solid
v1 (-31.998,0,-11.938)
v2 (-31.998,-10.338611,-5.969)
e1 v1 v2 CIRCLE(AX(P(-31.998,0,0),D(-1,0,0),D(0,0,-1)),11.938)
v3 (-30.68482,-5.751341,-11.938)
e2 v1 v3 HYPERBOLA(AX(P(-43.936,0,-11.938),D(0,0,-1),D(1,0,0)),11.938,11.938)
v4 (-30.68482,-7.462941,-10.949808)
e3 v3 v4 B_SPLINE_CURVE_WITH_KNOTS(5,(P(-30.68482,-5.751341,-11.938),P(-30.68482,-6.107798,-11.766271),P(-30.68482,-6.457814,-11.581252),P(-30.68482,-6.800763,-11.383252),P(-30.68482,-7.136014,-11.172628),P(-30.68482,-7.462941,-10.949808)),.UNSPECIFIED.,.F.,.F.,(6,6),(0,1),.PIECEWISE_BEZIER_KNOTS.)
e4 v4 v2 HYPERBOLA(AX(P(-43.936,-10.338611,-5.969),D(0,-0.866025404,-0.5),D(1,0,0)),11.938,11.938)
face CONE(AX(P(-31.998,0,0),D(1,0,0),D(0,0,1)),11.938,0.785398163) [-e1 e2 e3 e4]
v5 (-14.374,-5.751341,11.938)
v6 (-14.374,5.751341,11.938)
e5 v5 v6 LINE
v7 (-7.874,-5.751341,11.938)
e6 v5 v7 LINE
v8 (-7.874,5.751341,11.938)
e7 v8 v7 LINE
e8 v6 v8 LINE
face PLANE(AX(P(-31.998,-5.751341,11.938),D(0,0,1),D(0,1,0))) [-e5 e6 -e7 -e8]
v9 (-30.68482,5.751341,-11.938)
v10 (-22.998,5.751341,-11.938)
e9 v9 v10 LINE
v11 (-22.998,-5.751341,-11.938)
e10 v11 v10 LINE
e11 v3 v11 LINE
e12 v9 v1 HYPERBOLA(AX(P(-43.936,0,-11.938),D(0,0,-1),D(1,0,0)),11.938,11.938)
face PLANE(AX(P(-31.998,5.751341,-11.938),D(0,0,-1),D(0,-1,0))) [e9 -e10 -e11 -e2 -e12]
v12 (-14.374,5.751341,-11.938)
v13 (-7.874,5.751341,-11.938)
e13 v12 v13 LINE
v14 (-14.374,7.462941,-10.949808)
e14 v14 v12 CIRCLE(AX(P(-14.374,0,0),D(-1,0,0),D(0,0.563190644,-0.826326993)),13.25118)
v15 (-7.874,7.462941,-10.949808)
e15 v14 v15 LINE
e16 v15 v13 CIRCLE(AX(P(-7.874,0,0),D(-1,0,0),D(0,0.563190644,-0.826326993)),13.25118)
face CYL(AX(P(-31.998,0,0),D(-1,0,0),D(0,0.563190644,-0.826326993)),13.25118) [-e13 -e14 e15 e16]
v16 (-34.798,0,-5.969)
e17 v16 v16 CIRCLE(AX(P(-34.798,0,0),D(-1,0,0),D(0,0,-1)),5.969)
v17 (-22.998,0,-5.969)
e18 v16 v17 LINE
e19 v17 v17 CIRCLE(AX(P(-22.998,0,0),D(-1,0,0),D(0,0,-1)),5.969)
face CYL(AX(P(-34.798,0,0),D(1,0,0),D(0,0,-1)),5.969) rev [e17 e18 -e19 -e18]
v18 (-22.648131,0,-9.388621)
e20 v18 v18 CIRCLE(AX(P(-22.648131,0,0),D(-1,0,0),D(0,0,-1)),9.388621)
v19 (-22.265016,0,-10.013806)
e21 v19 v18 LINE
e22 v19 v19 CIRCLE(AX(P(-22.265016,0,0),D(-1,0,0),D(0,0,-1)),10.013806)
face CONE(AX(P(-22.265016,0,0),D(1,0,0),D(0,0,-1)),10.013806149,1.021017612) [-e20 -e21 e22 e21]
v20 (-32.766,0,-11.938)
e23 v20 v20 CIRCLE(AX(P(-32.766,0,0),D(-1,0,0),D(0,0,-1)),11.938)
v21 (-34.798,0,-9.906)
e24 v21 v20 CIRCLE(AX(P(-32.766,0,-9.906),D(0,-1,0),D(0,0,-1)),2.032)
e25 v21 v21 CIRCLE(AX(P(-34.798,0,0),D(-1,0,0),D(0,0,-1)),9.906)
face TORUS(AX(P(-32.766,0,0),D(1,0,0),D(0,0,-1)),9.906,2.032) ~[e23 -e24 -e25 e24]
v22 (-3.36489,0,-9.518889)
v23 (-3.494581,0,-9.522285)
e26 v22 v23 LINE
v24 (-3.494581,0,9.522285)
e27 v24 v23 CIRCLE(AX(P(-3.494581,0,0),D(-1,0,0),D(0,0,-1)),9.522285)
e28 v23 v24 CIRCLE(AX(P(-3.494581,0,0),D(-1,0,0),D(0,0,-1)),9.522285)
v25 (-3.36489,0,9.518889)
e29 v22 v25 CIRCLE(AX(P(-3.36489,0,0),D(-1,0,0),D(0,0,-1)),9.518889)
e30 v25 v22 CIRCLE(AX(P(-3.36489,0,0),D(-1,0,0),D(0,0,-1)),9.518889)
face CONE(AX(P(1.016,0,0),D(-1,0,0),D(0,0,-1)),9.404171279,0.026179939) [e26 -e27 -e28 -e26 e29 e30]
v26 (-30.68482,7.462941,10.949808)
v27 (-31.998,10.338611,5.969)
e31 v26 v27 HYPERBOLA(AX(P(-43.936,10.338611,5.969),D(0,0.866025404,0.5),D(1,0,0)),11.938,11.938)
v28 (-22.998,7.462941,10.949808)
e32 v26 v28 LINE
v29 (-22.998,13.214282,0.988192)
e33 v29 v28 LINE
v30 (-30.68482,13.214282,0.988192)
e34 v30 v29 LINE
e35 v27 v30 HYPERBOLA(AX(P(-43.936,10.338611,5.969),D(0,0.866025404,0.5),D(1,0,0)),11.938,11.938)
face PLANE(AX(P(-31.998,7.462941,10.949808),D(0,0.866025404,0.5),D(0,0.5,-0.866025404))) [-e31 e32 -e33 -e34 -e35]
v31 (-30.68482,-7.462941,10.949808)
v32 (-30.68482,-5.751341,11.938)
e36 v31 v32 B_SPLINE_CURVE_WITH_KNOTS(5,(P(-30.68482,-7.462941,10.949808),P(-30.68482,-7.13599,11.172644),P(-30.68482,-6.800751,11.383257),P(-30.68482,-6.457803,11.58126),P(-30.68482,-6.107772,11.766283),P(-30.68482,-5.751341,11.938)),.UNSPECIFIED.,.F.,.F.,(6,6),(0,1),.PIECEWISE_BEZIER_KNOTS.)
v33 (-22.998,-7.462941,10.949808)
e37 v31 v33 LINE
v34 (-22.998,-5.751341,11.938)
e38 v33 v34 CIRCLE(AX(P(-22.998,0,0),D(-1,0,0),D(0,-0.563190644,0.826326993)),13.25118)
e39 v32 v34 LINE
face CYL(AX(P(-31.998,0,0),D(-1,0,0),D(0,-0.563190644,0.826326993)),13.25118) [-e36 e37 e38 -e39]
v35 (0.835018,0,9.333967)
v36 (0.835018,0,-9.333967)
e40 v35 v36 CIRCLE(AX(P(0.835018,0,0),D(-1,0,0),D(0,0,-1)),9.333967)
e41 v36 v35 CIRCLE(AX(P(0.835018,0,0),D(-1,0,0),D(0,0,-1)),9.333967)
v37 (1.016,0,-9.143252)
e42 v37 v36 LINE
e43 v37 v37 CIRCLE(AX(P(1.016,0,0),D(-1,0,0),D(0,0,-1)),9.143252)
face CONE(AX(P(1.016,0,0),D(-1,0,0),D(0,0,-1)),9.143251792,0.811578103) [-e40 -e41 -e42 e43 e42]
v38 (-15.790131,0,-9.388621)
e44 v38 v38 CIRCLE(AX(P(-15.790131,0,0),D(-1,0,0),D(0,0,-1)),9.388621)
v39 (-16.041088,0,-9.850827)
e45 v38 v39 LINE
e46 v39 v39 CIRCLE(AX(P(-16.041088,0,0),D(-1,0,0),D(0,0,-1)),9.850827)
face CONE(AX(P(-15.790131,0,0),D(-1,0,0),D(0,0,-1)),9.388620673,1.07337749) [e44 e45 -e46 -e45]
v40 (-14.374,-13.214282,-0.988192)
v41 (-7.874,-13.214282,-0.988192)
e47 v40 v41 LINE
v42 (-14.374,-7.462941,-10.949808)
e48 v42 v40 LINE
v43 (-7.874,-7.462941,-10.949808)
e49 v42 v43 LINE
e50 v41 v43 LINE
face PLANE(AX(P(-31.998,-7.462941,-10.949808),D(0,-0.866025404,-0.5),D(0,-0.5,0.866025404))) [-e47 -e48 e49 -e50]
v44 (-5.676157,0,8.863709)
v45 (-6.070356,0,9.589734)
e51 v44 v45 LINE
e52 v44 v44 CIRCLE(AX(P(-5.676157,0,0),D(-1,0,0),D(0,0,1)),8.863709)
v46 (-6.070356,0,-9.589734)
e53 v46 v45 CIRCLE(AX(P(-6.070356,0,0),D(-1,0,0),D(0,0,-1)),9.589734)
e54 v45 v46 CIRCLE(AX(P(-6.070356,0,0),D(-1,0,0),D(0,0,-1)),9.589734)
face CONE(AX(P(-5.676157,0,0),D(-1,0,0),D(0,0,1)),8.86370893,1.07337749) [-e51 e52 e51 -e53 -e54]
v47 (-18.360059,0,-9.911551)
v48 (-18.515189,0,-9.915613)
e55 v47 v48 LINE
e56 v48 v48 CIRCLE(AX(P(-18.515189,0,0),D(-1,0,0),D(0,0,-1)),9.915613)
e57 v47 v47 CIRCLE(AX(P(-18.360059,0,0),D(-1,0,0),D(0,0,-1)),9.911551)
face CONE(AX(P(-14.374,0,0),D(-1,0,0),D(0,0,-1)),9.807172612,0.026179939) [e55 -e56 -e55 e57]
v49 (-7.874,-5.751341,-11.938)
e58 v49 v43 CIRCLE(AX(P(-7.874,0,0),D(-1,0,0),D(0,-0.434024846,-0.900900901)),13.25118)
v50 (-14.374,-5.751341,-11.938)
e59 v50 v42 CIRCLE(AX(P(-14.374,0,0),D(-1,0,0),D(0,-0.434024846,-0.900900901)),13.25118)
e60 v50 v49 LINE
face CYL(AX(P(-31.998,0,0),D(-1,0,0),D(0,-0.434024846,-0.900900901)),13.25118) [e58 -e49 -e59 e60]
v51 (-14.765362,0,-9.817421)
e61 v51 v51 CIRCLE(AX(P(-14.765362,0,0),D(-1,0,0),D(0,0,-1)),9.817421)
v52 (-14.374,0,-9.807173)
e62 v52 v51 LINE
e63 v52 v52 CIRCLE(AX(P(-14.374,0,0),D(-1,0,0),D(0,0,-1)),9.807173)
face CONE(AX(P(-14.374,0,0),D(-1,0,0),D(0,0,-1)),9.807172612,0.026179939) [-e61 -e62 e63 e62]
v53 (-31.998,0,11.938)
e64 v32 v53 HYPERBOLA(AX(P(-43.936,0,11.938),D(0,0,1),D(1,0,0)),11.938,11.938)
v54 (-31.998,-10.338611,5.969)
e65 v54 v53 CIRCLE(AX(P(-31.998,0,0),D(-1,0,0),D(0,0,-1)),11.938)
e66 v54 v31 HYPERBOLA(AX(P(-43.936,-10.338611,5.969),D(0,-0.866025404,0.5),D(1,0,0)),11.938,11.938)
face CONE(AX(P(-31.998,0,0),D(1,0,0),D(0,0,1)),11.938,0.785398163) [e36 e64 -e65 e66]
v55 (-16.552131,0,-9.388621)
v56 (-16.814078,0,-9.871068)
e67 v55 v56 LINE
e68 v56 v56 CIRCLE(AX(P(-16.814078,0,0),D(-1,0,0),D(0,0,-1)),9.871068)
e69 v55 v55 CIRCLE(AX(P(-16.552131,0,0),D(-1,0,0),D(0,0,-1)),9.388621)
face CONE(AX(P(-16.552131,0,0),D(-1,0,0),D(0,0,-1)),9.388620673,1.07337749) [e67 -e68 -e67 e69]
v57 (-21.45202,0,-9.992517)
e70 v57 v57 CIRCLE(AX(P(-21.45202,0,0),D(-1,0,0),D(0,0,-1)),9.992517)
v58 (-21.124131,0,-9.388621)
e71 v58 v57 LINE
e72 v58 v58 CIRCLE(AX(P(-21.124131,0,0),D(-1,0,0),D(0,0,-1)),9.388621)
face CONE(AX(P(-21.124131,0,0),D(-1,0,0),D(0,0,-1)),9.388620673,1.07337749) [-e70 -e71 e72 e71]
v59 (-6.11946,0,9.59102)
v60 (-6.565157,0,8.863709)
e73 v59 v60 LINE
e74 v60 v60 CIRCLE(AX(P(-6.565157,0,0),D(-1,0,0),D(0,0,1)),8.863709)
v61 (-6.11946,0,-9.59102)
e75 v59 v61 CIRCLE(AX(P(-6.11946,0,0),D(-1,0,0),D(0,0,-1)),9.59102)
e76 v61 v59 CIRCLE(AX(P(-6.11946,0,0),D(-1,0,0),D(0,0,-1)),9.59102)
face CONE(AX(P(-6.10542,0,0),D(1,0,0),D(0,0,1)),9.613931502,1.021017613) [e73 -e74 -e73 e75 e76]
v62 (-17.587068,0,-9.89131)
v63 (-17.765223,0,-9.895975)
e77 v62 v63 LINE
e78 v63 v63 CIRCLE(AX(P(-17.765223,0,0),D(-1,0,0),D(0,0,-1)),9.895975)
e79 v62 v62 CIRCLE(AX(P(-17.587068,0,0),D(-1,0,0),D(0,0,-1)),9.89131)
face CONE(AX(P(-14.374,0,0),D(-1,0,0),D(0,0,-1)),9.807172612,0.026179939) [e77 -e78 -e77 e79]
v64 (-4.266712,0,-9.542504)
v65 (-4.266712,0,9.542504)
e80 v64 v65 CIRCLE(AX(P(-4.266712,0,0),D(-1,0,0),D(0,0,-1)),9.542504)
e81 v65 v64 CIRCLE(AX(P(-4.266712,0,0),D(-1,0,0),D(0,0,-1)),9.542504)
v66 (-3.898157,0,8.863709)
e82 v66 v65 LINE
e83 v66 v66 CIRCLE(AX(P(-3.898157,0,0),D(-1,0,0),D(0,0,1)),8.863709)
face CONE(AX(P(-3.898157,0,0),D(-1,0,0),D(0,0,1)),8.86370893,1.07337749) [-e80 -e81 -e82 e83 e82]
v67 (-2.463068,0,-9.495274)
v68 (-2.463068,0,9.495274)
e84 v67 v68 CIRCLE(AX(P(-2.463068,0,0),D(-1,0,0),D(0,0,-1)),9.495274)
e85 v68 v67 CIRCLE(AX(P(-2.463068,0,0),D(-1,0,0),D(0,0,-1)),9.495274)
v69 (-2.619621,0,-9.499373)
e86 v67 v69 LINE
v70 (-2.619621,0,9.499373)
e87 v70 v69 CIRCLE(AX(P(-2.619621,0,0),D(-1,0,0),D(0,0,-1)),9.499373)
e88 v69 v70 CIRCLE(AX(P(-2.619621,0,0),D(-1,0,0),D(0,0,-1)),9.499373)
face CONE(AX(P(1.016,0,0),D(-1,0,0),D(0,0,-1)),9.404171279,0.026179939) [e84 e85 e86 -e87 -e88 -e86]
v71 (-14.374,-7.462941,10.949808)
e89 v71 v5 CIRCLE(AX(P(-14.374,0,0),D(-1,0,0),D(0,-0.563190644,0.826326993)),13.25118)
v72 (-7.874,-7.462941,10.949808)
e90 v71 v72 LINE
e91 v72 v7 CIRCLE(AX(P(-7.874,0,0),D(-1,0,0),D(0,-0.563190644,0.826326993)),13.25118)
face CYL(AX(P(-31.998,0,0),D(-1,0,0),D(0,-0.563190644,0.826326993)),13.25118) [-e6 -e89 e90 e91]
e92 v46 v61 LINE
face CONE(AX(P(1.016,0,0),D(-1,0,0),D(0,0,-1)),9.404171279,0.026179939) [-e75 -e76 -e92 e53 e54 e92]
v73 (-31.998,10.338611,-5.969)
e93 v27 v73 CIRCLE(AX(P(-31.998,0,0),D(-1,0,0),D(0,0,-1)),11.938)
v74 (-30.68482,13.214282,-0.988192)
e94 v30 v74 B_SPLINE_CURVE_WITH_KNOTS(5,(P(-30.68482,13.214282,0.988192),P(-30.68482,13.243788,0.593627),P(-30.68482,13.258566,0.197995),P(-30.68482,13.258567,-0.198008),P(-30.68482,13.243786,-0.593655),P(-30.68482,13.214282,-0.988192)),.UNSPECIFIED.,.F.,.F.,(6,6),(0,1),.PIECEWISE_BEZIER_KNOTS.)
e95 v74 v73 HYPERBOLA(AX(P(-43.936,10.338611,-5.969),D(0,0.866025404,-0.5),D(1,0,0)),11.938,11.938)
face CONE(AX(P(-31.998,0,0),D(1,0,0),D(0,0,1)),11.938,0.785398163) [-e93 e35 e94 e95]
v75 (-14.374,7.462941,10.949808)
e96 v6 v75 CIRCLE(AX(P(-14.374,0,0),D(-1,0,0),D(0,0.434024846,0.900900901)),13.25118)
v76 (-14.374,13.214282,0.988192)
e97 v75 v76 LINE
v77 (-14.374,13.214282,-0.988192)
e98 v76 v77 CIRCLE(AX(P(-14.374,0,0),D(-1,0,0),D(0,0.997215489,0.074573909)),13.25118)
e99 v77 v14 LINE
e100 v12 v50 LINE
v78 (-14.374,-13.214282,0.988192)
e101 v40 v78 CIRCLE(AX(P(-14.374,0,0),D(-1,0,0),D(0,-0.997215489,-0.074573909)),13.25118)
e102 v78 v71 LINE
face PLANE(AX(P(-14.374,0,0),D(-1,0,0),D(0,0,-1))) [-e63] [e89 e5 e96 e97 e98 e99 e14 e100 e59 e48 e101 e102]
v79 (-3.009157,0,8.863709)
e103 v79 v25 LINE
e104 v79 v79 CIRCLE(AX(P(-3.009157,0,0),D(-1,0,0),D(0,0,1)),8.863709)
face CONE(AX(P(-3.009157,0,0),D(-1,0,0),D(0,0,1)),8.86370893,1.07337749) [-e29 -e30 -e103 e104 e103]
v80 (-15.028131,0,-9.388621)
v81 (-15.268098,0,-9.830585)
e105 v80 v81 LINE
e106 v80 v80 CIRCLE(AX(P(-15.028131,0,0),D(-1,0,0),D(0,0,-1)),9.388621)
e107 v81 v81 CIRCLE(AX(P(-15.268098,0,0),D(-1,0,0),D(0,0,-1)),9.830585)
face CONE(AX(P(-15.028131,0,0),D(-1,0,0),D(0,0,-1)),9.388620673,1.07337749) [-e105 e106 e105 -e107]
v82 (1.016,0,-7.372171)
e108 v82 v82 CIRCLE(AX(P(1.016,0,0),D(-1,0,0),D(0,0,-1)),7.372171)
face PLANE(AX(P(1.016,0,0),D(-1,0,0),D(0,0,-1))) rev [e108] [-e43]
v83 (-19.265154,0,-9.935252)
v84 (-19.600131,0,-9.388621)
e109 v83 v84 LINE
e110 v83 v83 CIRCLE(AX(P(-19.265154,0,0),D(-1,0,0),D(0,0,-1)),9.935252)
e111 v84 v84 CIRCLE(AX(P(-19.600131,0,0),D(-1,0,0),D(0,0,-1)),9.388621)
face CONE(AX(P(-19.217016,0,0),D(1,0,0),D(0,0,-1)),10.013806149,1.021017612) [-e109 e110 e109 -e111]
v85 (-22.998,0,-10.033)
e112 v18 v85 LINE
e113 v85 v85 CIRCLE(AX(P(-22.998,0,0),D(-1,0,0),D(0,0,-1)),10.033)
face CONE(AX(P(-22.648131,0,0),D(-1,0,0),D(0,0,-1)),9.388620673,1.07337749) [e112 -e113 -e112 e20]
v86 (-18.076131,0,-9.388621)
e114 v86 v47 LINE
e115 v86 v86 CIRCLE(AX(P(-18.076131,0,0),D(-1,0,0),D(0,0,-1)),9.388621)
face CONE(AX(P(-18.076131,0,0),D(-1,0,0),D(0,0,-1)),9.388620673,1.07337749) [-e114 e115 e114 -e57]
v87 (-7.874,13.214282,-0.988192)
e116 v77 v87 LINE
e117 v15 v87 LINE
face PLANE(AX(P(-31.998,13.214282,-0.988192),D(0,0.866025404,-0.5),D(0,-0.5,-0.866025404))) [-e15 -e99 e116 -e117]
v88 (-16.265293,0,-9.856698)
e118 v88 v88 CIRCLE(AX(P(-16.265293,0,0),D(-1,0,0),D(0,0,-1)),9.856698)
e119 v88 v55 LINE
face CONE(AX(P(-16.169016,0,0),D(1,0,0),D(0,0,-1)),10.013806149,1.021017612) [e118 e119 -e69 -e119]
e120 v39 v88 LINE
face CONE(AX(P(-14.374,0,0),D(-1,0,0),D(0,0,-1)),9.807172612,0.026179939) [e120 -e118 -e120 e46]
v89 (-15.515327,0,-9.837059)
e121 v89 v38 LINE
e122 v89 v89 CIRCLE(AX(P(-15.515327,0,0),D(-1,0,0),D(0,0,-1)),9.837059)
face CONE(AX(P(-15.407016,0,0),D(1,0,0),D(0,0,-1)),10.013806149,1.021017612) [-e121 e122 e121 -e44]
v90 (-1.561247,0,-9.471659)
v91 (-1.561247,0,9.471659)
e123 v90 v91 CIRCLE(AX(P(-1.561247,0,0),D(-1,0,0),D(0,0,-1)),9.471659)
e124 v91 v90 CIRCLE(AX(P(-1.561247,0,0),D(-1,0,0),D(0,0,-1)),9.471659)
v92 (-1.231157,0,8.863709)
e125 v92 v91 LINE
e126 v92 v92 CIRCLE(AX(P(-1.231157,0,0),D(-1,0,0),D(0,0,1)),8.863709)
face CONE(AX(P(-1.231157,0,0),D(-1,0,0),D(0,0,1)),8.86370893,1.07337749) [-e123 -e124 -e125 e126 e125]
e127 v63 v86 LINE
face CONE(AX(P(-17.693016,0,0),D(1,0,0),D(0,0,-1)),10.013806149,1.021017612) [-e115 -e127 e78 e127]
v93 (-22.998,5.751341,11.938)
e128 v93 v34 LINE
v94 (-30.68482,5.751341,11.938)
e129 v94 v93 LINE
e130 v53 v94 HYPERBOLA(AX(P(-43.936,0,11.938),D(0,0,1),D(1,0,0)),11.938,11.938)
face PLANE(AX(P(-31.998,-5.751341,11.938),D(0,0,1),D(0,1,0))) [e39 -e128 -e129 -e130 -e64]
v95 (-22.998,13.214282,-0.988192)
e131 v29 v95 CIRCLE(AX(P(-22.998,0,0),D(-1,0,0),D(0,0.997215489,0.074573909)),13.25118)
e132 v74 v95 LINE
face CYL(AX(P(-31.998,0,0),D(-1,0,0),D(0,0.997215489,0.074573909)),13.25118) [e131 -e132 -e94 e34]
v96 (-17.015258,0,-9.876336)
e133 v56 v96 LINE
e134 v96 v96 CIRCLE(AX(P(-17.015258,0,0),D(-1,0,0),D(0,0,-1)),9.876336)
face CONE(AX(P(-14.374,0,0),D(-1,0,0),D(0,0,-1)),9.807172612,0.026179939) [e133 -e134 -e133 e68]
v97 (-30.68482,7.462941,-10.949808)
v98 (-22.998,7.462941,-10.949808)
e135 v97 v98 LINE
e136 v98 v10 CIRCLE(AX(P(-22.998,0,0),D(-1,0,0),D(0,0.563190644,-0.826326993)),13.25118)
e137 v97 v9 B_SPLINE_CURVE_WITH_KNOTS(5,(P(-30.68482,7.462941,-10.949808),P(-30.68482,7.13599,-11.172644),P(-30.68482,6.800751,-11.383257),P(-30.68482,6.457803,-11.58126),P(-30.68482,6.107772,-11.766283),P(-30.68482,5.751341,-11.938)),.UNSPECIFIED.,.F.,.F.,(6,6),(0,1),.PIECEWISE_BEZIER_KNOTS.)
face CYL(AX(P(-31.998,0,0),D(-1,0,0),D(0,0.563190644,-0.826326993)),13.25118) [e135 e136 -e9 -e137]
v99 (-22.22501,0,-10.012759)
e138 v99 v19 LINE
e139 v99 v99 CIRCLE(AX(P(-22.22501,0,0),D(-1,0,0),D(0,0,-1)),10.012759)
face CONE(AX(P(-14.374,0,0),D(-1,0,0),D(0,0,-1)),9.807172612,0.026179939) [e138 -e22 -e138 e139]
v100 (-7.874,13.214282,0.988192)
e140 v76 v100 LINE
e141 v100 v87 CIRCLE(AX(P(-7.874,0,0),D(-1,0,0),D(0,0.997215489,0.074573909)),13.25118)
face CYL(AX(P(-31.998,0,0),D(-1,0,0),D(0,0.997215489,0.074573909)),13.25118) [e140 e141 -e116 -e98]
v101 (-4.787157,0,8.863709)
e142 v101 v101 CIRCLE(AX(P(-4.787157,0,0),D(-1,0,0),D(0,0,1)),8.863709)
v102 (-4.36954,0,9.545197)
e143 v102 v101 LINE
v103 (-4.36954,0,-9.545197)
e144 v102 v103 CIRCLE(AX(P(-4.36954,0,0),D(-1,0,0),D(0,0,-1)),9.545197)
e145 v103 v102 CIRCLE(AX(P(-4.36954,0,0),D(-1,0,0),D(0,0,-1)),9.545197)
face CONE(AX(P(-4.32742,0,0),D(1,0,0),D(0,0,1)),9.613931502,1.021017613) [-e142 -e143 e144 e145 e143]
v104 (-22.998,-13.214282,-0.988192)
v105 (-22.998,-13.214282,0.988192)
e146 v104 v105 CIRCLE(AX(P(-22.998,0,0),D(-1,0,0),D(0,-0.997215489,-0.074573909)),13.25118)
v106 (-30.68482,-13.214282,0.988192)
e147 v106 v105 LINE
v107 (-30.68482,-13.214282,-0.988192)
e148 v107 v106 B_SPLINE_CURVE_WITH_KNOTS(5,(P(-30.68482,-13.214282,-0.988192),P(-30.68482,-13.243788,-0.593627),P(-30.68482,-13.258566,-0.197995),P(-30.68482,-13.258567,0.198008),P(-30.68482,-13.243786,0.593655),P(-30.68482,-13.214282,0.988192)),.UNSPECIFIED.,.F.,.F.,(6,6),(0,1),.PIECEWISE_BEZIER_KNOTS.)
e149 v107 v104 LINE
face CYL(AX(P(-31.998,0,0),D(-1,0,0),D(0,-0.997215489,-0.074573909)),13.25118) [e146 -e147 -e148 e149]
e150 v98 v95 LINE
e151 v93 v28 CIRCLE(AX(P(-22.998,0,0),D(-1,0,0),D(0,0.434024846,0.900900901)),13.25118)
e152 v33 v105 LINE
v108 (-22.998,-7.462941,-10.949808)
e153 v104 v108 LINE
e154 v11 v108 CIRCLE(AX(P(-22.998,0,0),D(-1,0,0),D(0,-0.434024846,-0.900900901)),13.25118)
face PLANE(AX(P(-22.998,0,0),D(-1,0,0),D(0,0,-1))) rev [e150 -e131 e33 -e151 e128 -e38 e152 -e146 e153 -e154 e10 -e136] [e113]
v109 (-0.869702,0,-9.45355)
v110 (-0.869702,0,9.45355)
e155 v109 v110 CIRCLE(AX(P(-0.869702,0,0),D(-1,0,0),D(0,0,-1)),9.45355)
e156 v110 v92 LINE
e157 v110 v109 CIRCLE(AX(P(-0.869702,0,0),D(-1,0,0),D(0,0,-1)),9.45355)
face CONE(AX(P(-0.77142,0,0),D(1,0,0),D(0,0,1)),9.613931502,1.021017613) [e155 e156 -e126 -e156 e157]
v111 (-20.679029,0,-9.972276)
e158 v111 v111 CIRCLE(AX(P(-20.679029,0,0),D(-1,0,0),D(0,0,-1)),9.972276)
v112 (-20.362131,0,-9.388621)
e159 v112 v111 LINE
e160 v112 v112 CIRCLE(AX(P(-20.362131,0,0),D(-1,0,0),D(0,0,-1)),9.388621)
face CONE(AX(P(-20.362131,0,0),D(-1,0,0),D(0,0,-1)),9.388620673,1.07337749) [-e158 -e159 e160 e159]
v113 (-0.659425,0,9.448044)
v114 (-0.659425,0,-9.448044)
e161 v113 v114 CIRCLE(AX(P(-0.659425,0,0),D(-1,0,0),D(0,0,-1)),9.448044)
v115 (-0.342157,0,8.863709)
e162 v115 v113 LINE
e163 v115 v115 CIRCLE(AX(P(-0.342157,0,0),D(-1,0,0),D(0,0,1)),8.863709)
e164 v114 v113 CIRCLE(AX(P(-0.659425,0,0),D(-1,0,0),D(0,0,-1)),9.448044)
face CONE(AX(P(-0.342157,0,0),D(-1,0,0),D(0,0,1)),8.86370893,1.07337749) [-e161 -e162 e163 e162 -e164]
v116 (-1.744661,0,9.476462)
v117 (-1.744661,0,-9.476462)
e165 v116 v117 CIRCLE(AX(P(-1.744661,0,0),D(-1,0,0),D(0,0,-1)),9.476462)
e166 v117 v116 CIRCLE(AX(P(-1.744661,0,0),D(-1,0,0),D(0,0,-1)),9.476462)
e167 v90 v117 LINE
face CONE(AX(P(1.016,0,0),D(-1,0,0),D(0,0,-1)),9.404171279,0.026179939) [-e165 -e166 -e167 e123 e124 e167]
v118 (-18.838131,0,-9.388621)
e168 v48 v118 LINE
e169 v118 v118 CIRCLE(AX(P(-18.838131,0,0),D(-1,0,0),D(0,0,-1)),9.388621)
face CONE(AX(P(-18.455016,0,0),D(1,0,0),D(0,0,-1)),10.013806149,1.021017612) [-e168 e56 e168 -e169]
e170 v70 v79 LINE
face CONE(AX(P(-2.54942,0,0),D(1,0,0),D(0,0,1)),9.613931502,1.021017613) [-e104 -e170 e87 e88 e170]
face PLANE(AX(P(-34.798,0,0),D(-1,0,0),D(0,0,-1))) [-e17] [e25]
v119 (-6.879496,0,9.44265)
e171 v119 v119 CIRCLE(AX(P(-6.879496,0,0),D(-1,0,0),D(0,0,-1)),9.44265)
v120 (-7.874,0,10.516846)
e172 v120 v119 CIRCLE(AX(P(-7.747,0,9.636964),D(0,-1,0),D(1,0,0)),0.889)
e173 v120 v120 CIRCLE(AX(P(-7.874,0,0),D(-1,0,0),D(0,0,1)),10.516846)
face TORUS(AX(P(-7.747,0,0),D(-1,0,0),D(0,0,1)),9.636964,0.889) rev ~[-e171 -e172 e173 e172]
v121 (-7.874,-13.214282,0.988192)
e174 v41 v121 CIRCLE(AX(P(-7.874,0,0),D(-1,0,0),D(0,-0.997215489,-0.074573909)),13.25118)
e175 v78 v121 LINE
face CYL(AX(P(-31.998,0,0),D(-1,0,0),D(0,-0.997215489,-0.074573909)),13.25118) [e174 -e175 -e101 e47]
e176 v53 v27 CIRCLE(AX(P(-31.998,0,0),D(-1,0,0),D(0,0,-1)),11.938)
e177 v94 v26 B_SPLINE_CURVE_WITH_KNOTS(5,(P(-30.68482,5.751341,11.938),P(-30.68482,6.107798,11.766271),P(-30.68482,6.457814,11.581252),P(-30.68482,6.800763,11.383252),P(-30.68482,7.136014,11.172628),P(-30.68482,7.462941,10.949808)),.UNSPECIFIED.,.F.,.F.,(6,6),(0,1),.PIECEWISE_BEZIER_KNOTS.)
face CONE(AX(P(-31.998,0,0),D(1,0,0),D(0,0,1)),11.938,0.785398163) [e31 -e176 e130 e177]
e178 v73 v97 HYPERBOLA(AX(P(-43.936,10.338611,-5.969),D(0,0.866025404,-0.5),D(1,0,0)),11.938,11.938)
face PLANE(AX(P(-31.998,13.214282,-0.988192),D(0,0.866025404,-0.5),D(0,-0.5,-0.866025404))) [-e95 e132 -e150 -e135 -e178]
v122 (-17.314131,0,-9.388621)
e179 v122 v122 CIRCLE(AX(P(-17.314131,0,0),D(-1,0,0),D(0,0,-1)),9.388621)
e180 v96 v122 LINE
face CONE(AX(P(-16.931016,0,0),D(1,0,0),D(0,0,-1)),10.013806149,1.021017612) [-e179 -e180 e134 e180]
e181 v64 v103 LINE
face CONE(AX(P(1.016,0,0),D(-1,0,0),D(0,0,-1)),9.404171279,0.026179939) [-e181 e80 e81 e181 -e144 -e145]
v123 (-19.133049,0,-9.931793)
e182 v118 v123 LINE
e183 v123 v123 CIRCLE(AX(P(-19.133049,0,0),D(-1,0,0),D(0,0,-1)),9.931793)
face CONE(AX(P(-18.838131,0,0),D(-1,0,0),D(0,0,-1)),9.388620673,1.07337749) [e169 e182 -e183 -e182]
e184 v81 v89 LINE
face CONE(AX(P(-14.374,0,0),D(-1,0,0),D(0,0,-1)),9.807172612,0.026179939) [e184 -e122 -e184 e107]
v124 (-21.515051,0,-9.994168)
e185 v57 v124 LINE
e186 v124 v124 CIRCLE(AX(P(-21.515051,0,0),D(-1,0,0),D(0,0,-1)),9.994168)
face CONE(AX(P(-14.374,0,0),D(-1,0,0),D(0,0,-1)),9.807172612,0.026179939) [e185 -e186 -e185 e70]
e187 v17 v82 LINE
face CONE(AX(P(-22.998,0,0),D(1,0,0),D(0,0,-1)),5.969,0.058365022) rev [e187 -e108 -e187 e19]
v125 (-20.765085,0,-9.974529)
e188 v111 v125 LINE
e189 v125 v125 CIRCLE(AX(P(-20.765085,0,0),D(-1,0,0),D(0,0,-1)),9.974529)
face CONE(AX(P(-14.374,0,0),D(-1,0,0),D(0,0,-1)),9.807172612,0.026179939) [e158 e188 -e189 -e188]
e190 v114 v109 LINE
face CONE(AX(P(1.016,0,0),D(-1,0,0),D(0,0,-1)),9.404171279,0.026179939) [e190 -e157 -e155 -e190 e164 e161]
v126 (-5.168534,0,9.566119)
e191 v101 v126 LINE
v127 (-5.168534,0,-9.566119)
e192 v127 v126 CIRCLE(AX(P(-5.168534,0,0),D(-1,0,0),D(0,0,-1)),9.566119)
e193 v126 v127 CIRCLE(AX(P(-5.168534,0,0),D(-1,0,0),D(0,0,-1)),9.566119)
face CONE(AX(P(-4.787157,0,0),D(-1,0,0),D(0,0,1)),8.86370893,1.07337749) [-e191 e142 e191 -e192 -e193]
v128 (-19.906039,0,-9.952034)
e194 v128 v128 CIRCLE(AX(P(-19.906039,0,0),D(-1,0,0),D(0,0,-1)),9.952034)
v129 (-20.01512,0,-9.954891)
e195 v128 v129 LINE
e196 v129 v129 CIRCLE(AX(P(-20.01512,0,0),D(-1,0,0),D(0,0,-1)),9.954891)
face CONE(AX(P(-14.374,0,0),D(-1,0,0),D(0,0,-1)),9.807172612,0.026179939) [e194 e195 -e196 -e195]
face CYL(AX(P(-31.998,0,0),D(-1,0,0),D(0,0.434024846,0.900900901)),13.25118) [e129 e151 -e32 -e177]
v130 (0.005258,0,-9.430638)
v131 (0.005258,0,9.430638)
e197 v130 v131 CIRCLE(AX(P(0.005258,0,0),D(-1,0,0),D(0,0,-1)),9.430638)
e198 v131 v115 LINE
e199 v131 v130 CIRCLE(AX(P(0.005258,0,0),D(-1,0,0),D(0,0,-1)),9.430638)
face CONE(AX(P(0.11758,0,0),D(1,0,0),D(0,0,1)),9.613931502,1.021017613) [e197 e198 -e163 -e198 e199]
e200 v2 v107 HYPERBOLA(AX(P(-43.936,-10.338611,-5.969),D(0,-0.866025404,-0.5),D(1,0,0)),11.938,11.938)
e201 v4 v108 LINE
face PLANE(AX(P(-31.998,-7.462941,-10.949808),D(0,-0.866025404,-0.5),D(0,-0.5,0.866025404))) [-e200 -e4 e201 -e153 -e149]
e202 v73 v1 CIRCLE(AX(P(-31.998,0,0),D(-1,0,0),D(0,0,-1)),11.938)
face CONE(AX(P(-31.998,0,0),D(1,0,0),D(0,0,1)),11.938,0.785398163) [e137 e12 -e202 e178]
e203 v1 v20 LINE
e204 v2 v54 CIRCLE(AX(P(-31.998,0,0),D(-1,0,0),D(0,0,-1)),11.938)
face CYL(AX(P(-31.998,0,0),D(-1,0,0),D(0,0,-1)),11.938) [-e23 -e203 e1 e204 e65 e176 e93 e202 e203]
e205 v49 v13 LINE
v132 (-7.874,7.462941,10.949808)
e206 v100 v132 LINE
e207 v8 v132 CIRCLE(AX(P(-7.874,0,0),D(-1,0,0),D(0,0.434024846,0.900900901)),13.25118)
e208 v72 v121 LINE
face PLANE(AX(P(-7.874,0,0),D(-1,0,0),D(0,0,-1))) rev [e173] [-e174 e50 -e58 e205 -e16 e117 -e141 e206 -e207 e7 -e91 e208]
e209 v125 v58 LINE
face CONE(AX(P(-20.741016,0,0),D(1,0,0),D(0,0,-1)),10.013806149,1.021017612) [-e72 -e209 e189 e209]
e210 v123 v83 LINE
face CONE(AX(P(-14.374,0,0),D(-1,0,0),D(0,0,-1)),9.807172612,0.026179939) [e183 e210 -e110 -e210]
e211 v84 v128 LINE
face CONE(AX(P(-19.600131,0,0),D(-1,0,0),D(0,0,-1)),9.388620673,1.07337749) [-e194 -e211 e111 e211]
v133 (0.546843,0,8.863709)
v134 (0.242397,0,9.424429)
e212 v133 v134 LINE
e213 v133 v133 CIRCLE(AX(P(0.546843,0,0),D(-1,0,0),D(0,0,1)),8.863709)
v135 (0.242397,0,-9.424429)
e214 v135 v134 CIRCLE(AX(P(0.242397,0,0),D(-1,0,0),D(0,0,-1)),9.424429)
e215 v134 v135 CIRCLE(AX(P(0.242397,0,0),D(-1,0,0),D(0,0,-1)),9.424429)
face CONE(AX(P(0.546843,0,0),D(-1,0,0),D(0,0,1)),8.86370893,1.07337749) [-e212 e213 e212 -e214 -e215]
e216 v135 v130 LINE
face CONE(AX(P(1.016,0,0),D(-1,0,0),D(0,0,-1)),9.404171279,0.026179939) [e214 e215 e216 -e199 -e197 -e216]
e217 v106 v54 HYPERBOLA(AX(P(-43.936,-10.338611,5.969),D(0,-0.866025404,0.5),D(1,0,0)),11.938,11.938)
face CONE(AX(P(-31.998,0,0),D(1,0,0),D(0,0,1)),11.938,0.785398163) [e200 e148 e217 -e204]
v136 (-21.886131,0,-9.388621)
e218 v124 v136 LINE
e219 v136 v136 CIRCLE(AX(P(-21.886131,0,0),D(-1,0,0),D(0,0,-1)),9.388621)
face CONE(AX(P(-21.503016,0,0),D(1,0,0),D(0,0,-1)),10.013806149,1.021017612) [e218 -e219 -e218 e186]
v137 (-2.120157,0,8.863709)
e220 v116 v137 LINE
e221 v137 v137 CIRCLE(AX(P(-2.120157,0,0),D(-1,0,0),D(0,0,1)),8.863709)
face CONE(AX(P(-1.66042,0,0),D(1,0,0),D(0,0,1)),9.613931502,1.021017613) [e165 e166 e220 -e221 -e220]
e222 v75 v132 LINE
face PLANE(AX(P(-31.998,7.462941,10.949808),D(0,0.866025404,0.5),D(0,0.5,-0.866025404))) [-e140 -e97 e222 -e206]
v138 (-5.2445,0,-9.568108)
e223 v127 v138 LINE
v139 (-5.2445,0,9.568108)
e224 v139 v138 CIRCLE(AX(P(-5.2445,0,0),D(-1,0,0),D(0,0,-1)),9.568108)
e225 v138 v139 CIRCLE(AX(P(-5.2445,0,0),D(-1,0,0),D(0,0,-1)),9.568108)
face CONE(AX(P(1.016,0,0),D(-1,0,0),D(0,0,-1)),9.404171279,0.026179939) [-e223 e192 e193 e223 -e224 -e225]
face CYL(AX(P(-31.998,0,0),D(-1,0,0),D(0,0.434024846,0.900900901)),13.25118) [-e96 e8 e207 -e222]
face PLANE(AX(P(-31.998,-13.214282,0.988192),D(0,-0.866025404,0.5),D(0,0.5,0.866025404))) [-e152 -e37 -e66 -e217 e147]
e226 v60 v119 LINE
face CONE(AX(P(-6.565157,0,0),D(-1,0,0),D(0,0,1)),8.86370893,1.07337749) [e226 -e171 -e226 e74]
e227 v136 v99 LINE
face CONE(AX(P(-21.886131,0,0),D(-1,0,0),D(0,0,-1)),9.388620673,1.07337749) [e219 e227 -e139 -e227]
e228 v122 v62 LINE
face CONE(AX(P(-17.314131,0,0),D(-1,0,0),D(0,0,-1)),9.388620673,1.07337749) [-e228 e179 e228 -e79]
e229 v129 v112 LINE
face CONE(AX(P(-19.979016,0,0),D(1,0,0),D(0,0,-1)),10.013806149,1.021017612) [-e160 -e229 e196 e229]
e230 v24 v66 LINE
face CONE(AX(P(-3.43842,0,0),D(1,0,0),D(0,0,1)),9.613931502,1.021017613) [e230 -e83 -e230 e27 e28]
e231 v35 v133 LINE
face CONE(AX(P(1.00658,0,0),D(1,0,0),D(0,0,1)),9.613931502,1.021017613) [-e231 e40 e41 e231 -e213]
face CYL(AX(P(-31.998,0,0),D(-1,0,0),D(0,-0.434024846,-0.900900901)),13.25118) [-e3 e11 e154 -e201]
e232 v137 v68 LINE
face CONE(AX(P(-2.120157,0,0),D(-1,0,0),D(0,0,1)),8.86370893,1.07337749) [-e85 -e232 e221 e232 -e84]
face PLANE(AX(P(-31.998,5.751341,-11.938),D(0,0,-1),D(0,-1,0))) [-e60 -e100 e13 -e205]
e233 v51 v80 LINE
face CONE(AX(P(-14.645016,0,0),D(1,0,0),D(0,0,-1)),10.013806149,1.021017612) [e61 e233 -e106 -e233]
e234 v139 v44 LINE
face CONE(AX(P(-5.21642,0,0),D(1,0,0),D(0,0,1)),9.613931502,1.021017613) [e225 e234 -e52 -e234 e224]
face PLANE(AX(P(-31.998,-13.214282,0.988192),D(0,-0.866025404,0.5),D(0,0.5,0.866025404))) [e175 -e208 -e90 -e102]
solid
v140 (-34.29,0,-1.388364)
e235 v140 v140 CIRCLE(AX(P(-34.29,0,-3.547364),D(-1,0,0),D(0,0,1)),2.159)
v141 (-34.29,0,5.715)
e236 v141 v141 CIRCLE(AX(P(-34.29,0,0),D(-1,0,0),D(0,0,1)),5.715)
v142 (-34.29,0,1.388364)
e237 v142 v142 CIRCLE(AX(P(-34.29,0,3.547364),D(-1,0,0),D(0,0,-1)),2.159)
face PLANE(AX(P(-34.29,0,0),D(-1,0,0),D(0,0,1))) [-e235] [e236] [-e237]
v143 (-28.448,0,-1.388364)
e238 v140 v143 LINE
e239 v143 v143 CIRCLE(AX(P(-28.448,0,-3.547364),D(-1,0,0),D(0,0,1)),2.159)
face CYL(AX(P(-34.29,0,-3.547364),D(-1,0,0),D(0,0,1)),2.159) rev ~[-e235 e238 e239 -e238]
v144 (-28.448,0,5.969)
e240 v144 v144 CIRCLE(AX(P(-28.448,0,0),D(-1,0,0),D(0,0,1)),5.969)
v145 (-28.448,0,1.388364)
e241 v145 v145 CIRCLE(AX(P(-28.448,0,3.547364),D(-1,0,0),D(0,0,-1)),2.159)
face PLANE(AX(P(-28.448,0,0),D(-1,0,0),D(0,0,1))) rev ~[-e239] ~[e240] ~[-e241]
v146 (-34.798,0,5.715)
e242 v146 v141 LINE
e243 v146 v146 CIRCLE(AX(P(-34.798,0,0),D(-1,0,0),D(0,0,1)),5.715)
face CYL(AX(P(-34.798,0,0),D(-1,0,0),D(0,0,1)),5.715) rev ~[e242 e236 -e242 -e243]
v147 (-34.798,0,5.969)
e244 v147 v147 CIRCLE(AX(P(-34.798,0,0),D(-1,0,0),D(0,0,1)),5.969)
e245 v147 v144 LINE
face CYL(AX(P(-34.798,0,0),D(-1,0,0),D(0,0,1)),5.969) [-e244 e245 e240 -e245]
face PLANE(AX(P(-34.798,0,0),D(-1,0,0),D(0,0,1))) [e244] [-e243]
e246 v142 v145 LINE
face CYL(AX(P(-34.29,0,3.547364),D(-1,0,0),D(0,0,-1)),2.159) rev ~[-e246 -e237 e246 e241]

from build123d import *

# Parameters (mm, degrees)
SKETCH12_OUTSIDE_W = 65.04
SKETCH12_OUTSIDE_H = 65.04
CUT_EXTRUDE2_DEPTH = 34.014
FILLET4_R          = 2.032
SKETCH19_OUTSIDE_W = 39.986
SKETCH19_OUTSIDE_H = 42.612
SKETCH19_OUTSIDE_R = 11.938
CUT_EXTRUDE3_DEPTH = 1.999996
CUT_EXTRUDE3_DRAFT = -45
CHAMFER1_SIZE      = 0.260919487
CHAMFER1_SIZE2     = 0.254
SKETCH21_R         = 5.969
PLUG_DEPTH         = 6.35
SKETCH22_R         = 5.715
CUT_EXTRUDE4_DEPTH = 0.508
SKETCH27_R         = 2.159
PLUGHOLES_DEPTH    = 36.306
CIRPATTERN1_COUNT  = 2
LPATTERN1_COUNT    = 11
LPATTERN1_PITCH    = 0.762
LPATTERN2_COUNT    = 10
LPATTERN2_PITCH    = 0.889
SKETCH32_R         = 0.889


with BuildPart() as part:
    # Sketch10 → Revolve2 (revolve)
    with BuildSketch(Plane.XY, mode=Mode.PRIVATE) as revolve2_sk:
        Polygon((-34.798, 5.969), (-22.998, 5.969), (1.016, 7.372171279), (1.016, 9.404171279), (-7.874, 9.636964122), (-7.874, 23.876), (-14.374, 23.876), (-14.374, 9.807172612), (-22.998, 10.033), (-22.998, 23.876), (-31.998, 23.876), (-31.998, 11.938), (-34.798, 11.938), align=None)
    revolve(revolve2_sk.sketch.rotate(Axis((0, 0, 0), (-1, 0, 0)), 90), axis=Axis((0, 0, 0), (-1, 0, 0)))  # turned: the seam where the file's is

    # Sketch12 outside → Cut-Extrude2 (cut, through all)
    with BuildSketch(Plane.ZY.offset(31.998)):
        Rectangle(SKETCH12_OUTSIDE_W, SKETCH12_OUTSIDE_H)
        with BuildLine():
            Line((-0.98819228, 13.214281948), (-10.94980772, 7.462940592))
            ThreePointArc((-10.94980772, 7.462940592), (-11.47585851, 6.62559), (-11.938, 5.751341356))
            Line((-11.938, 5.751341356), (-11.938, -5.751341356))
            ThreePointArc((-11.938, -5.751341356), (-11.47585851, -6.62559), (-10.94980772, -7.462940592))
            Line((-10.94980772, -7.462940592), (-0.98819228, -13.214281948))
            ThreePointArc((-0.98819228, -13.214281948), (0, -13.25118), (0.98819228, -13.214281948))
            Line((0.98819228, -13.214281948), (10.94980772, -7.462940592))
            ThreePointArc((10.94980772, -7.462940592), (11.47585851, -6.62559), (11.938, -5.751341356))
            Line((11.938, -5.751341356), (11.938, 5.751341356))
            ThreePointArc((11.938, 5.751341356), (11.47585851, 6.62559), (10.94980772, 7.462940592))
            Line((10.94980772, 7.462940592), (0.98819228, 13.214281948))
            ThreePointArc((0.98819228, 13.214281948), (0, 13.25118), (-0.98819228, 13.214281948))
        make_face(mode=Mode.SUBTRACT)
    extrude(amount=-CUT_EXTRUDE2_DEPTH, mode=Mode.SUBTRACT)

    # Fillet4
    fillet4_edges = [part.edges().sort_by_distance(p)[0] for p in [
        (-34.798, 0, 11.938),
    ]]
    fillet(fillet4_edges, radius=FILLET4_R)


with BuildPart() as cut_extrude3_tool:
    # Sketch19 outside → Cut-Extrude3 (with draft: the straight prism first)
    with BuildSketch(Plane.ZY.offset(31.998)):
        Rectangle(SKETCH19_OUTSIDE_W, SKETCH19_OUTSIDE_H)
        Circle(SKETCH19_OUTSIDE_R, mode=Mode.SUBTRACT)
    extrude(amount=-CUT_EXTRUDE3_DEPTH)
    # Cut-Extrude3: the draft: its side faces are tilted about the plane it starts from
    cut_extrude3_sides = [cut_extrude3_tool.faces().sort_by_distance(p)[0] for p in [
        (-30.998002, -21.306, 0),
        (-30.998002, 0, 19.993),
        (-30.998002, 21.306, 0),
        (-30.998002, 0, -19.993),
        (-30.998002, 0, -11.938),
    ]]
    draft(cut_extrude3_sides, Plane.ZY.offset(31.998), CUT_EXTRUDE3_DRAFT)


with BuildPart() as part_1:
    add(part.part)

    # Cut-Extrude3: cut by cut_extrude3_tool
    add(cut_extrude3_tool.part, mode=Mode.SUBTRACT)

    # Chamfer1
    chamfer1_edges = [part_1.edges().sort_by_distance(p)[0] for p in [
        (1.016, 0, 9.404171279),
    ]]
    chamfer1_side = [part_1.faces().sort_by_distance(p)[0] for p in [
        (1.016, 0, 7.638161411),
    ]]
    chamfer(chamfer1_edges, length=CHAMFER1_SIZE, length2=CHAMFER1_SIZE2, reference=chamfer1_side[0])

    # Sketch29 → Cut-Revolve1 (revolve, cut)
    with BuildSketch(Plane.XY, mode=Mode.PRIVATE) as cut_revolve1_sk:
        Polygon((-22.998, 10.033), (-22.265016419, 10.013806149), (-22.648130572, 9.388620673), align=None)
    cut_revolve1 = revolve(cut_revolve1_sk.sketch.rotate(Axis((0, 0, 0), (-1, 0, 0)), 90), axis=Axis((0, 0, 0), (-1, 0, 0)), mode=Mode.SUBTRACT)  # turned: the seam where the file's is

    # LPattern1: Cut-Revolve1 ×11
    with Locations(*[(i * LPATTERN1_PITCH, 0, 0) for i in range(1, LPATTERN1_COUNT)]):
        add(cut_revolve1, mode=Mode.SUBTRACT)

    # Sketch30 → Cut-Revolve2 (revolve, cut)
    with BuildSketch(Plane.XY, mode=Mode.PRIVATE) as cut_revolve2_sk:
        Polygon((-7.874, 9.636964122), (-6.994419703, 9.613931502), (-7.454156686, 8.86370893), align=None)
    cut_revolve2 = revolve(cut_revolve2_sk.sketch.rotate(Axis((0, 0, 0), (-1, 0, 0)), 270), axis=Axis((0, 0, 0), (-1, 0, 0)), mode=Mode.SUBTRACT)  # turned: the seam where the file's is

    # LPattern2: Cut-Revolve2 ×10
    with Locations(*[(i * LPATTERN2_PITCH, 0, 0) for i in range(1, LPATTERN2_COUNT)]):
        add(cut_revolve2, mode=Mode.SUBTRACT)

    # Sketch32 → Cut-Revolve3 (revolve, cut)
    with BuildSketch(Plane.XY, mode=Mode.PRIVATE) as cut_revolve3_sk:
        with Locations((-7.747, 9.636964122)):
            Circle(SKETCH32_R)
    revolve(cut_revolve3_sk.sketch.rotate(Axis((0, 0, 0), (-1, 0, 0)), 270), axis=Axis((0, 0, 0), (-1, 0, 0)), mode=Mode.SUBTRACT)  # turned: the seam where the file's is


with BuildPart() as body_2:
    # Sketch21 → plug (new body)
    with BuildSketch(Plane.ZY.offset(34.798)):
        Circle(SKETCH21_R)
    extrude(amount=-PLUG_DEPTH)

    # Sketch22 → Cut-Extrude4 (cut)
    with BuildSketch(Plane.ZY.offset(34.798)):
        Circle(SKETCH22_R)
    extrude(amount=-CUT_EXTRUDE4_DEPTH, mode=Mode.SUBTRACT)

    # Sketch27 → plugholes (cut, through all)
    with BuildSketch(Plane.ZY.offset(34.29)):
        with Locations((-3.547364, 0)):
            Circle(SKETCH27_R)
    plugholes = extrude(amount=-PLUGHOLES_DEPTH, mode=Mode.SUBTRACT)

    # CirPattern1: plugholes ×2 about axis
    cirpattern1_axis = Axis((0, 0, 0), (1, 0, 0))
    for i in range(1, CIRPATTERN1_COUNT):
        add(plugholes.rotate(cirpattern1_axis, i * 360 / CIRPATTERN1_COUNT), mode=Mode.SUBTRACT)


solid = Compound([part_1.part, body_2.part])
